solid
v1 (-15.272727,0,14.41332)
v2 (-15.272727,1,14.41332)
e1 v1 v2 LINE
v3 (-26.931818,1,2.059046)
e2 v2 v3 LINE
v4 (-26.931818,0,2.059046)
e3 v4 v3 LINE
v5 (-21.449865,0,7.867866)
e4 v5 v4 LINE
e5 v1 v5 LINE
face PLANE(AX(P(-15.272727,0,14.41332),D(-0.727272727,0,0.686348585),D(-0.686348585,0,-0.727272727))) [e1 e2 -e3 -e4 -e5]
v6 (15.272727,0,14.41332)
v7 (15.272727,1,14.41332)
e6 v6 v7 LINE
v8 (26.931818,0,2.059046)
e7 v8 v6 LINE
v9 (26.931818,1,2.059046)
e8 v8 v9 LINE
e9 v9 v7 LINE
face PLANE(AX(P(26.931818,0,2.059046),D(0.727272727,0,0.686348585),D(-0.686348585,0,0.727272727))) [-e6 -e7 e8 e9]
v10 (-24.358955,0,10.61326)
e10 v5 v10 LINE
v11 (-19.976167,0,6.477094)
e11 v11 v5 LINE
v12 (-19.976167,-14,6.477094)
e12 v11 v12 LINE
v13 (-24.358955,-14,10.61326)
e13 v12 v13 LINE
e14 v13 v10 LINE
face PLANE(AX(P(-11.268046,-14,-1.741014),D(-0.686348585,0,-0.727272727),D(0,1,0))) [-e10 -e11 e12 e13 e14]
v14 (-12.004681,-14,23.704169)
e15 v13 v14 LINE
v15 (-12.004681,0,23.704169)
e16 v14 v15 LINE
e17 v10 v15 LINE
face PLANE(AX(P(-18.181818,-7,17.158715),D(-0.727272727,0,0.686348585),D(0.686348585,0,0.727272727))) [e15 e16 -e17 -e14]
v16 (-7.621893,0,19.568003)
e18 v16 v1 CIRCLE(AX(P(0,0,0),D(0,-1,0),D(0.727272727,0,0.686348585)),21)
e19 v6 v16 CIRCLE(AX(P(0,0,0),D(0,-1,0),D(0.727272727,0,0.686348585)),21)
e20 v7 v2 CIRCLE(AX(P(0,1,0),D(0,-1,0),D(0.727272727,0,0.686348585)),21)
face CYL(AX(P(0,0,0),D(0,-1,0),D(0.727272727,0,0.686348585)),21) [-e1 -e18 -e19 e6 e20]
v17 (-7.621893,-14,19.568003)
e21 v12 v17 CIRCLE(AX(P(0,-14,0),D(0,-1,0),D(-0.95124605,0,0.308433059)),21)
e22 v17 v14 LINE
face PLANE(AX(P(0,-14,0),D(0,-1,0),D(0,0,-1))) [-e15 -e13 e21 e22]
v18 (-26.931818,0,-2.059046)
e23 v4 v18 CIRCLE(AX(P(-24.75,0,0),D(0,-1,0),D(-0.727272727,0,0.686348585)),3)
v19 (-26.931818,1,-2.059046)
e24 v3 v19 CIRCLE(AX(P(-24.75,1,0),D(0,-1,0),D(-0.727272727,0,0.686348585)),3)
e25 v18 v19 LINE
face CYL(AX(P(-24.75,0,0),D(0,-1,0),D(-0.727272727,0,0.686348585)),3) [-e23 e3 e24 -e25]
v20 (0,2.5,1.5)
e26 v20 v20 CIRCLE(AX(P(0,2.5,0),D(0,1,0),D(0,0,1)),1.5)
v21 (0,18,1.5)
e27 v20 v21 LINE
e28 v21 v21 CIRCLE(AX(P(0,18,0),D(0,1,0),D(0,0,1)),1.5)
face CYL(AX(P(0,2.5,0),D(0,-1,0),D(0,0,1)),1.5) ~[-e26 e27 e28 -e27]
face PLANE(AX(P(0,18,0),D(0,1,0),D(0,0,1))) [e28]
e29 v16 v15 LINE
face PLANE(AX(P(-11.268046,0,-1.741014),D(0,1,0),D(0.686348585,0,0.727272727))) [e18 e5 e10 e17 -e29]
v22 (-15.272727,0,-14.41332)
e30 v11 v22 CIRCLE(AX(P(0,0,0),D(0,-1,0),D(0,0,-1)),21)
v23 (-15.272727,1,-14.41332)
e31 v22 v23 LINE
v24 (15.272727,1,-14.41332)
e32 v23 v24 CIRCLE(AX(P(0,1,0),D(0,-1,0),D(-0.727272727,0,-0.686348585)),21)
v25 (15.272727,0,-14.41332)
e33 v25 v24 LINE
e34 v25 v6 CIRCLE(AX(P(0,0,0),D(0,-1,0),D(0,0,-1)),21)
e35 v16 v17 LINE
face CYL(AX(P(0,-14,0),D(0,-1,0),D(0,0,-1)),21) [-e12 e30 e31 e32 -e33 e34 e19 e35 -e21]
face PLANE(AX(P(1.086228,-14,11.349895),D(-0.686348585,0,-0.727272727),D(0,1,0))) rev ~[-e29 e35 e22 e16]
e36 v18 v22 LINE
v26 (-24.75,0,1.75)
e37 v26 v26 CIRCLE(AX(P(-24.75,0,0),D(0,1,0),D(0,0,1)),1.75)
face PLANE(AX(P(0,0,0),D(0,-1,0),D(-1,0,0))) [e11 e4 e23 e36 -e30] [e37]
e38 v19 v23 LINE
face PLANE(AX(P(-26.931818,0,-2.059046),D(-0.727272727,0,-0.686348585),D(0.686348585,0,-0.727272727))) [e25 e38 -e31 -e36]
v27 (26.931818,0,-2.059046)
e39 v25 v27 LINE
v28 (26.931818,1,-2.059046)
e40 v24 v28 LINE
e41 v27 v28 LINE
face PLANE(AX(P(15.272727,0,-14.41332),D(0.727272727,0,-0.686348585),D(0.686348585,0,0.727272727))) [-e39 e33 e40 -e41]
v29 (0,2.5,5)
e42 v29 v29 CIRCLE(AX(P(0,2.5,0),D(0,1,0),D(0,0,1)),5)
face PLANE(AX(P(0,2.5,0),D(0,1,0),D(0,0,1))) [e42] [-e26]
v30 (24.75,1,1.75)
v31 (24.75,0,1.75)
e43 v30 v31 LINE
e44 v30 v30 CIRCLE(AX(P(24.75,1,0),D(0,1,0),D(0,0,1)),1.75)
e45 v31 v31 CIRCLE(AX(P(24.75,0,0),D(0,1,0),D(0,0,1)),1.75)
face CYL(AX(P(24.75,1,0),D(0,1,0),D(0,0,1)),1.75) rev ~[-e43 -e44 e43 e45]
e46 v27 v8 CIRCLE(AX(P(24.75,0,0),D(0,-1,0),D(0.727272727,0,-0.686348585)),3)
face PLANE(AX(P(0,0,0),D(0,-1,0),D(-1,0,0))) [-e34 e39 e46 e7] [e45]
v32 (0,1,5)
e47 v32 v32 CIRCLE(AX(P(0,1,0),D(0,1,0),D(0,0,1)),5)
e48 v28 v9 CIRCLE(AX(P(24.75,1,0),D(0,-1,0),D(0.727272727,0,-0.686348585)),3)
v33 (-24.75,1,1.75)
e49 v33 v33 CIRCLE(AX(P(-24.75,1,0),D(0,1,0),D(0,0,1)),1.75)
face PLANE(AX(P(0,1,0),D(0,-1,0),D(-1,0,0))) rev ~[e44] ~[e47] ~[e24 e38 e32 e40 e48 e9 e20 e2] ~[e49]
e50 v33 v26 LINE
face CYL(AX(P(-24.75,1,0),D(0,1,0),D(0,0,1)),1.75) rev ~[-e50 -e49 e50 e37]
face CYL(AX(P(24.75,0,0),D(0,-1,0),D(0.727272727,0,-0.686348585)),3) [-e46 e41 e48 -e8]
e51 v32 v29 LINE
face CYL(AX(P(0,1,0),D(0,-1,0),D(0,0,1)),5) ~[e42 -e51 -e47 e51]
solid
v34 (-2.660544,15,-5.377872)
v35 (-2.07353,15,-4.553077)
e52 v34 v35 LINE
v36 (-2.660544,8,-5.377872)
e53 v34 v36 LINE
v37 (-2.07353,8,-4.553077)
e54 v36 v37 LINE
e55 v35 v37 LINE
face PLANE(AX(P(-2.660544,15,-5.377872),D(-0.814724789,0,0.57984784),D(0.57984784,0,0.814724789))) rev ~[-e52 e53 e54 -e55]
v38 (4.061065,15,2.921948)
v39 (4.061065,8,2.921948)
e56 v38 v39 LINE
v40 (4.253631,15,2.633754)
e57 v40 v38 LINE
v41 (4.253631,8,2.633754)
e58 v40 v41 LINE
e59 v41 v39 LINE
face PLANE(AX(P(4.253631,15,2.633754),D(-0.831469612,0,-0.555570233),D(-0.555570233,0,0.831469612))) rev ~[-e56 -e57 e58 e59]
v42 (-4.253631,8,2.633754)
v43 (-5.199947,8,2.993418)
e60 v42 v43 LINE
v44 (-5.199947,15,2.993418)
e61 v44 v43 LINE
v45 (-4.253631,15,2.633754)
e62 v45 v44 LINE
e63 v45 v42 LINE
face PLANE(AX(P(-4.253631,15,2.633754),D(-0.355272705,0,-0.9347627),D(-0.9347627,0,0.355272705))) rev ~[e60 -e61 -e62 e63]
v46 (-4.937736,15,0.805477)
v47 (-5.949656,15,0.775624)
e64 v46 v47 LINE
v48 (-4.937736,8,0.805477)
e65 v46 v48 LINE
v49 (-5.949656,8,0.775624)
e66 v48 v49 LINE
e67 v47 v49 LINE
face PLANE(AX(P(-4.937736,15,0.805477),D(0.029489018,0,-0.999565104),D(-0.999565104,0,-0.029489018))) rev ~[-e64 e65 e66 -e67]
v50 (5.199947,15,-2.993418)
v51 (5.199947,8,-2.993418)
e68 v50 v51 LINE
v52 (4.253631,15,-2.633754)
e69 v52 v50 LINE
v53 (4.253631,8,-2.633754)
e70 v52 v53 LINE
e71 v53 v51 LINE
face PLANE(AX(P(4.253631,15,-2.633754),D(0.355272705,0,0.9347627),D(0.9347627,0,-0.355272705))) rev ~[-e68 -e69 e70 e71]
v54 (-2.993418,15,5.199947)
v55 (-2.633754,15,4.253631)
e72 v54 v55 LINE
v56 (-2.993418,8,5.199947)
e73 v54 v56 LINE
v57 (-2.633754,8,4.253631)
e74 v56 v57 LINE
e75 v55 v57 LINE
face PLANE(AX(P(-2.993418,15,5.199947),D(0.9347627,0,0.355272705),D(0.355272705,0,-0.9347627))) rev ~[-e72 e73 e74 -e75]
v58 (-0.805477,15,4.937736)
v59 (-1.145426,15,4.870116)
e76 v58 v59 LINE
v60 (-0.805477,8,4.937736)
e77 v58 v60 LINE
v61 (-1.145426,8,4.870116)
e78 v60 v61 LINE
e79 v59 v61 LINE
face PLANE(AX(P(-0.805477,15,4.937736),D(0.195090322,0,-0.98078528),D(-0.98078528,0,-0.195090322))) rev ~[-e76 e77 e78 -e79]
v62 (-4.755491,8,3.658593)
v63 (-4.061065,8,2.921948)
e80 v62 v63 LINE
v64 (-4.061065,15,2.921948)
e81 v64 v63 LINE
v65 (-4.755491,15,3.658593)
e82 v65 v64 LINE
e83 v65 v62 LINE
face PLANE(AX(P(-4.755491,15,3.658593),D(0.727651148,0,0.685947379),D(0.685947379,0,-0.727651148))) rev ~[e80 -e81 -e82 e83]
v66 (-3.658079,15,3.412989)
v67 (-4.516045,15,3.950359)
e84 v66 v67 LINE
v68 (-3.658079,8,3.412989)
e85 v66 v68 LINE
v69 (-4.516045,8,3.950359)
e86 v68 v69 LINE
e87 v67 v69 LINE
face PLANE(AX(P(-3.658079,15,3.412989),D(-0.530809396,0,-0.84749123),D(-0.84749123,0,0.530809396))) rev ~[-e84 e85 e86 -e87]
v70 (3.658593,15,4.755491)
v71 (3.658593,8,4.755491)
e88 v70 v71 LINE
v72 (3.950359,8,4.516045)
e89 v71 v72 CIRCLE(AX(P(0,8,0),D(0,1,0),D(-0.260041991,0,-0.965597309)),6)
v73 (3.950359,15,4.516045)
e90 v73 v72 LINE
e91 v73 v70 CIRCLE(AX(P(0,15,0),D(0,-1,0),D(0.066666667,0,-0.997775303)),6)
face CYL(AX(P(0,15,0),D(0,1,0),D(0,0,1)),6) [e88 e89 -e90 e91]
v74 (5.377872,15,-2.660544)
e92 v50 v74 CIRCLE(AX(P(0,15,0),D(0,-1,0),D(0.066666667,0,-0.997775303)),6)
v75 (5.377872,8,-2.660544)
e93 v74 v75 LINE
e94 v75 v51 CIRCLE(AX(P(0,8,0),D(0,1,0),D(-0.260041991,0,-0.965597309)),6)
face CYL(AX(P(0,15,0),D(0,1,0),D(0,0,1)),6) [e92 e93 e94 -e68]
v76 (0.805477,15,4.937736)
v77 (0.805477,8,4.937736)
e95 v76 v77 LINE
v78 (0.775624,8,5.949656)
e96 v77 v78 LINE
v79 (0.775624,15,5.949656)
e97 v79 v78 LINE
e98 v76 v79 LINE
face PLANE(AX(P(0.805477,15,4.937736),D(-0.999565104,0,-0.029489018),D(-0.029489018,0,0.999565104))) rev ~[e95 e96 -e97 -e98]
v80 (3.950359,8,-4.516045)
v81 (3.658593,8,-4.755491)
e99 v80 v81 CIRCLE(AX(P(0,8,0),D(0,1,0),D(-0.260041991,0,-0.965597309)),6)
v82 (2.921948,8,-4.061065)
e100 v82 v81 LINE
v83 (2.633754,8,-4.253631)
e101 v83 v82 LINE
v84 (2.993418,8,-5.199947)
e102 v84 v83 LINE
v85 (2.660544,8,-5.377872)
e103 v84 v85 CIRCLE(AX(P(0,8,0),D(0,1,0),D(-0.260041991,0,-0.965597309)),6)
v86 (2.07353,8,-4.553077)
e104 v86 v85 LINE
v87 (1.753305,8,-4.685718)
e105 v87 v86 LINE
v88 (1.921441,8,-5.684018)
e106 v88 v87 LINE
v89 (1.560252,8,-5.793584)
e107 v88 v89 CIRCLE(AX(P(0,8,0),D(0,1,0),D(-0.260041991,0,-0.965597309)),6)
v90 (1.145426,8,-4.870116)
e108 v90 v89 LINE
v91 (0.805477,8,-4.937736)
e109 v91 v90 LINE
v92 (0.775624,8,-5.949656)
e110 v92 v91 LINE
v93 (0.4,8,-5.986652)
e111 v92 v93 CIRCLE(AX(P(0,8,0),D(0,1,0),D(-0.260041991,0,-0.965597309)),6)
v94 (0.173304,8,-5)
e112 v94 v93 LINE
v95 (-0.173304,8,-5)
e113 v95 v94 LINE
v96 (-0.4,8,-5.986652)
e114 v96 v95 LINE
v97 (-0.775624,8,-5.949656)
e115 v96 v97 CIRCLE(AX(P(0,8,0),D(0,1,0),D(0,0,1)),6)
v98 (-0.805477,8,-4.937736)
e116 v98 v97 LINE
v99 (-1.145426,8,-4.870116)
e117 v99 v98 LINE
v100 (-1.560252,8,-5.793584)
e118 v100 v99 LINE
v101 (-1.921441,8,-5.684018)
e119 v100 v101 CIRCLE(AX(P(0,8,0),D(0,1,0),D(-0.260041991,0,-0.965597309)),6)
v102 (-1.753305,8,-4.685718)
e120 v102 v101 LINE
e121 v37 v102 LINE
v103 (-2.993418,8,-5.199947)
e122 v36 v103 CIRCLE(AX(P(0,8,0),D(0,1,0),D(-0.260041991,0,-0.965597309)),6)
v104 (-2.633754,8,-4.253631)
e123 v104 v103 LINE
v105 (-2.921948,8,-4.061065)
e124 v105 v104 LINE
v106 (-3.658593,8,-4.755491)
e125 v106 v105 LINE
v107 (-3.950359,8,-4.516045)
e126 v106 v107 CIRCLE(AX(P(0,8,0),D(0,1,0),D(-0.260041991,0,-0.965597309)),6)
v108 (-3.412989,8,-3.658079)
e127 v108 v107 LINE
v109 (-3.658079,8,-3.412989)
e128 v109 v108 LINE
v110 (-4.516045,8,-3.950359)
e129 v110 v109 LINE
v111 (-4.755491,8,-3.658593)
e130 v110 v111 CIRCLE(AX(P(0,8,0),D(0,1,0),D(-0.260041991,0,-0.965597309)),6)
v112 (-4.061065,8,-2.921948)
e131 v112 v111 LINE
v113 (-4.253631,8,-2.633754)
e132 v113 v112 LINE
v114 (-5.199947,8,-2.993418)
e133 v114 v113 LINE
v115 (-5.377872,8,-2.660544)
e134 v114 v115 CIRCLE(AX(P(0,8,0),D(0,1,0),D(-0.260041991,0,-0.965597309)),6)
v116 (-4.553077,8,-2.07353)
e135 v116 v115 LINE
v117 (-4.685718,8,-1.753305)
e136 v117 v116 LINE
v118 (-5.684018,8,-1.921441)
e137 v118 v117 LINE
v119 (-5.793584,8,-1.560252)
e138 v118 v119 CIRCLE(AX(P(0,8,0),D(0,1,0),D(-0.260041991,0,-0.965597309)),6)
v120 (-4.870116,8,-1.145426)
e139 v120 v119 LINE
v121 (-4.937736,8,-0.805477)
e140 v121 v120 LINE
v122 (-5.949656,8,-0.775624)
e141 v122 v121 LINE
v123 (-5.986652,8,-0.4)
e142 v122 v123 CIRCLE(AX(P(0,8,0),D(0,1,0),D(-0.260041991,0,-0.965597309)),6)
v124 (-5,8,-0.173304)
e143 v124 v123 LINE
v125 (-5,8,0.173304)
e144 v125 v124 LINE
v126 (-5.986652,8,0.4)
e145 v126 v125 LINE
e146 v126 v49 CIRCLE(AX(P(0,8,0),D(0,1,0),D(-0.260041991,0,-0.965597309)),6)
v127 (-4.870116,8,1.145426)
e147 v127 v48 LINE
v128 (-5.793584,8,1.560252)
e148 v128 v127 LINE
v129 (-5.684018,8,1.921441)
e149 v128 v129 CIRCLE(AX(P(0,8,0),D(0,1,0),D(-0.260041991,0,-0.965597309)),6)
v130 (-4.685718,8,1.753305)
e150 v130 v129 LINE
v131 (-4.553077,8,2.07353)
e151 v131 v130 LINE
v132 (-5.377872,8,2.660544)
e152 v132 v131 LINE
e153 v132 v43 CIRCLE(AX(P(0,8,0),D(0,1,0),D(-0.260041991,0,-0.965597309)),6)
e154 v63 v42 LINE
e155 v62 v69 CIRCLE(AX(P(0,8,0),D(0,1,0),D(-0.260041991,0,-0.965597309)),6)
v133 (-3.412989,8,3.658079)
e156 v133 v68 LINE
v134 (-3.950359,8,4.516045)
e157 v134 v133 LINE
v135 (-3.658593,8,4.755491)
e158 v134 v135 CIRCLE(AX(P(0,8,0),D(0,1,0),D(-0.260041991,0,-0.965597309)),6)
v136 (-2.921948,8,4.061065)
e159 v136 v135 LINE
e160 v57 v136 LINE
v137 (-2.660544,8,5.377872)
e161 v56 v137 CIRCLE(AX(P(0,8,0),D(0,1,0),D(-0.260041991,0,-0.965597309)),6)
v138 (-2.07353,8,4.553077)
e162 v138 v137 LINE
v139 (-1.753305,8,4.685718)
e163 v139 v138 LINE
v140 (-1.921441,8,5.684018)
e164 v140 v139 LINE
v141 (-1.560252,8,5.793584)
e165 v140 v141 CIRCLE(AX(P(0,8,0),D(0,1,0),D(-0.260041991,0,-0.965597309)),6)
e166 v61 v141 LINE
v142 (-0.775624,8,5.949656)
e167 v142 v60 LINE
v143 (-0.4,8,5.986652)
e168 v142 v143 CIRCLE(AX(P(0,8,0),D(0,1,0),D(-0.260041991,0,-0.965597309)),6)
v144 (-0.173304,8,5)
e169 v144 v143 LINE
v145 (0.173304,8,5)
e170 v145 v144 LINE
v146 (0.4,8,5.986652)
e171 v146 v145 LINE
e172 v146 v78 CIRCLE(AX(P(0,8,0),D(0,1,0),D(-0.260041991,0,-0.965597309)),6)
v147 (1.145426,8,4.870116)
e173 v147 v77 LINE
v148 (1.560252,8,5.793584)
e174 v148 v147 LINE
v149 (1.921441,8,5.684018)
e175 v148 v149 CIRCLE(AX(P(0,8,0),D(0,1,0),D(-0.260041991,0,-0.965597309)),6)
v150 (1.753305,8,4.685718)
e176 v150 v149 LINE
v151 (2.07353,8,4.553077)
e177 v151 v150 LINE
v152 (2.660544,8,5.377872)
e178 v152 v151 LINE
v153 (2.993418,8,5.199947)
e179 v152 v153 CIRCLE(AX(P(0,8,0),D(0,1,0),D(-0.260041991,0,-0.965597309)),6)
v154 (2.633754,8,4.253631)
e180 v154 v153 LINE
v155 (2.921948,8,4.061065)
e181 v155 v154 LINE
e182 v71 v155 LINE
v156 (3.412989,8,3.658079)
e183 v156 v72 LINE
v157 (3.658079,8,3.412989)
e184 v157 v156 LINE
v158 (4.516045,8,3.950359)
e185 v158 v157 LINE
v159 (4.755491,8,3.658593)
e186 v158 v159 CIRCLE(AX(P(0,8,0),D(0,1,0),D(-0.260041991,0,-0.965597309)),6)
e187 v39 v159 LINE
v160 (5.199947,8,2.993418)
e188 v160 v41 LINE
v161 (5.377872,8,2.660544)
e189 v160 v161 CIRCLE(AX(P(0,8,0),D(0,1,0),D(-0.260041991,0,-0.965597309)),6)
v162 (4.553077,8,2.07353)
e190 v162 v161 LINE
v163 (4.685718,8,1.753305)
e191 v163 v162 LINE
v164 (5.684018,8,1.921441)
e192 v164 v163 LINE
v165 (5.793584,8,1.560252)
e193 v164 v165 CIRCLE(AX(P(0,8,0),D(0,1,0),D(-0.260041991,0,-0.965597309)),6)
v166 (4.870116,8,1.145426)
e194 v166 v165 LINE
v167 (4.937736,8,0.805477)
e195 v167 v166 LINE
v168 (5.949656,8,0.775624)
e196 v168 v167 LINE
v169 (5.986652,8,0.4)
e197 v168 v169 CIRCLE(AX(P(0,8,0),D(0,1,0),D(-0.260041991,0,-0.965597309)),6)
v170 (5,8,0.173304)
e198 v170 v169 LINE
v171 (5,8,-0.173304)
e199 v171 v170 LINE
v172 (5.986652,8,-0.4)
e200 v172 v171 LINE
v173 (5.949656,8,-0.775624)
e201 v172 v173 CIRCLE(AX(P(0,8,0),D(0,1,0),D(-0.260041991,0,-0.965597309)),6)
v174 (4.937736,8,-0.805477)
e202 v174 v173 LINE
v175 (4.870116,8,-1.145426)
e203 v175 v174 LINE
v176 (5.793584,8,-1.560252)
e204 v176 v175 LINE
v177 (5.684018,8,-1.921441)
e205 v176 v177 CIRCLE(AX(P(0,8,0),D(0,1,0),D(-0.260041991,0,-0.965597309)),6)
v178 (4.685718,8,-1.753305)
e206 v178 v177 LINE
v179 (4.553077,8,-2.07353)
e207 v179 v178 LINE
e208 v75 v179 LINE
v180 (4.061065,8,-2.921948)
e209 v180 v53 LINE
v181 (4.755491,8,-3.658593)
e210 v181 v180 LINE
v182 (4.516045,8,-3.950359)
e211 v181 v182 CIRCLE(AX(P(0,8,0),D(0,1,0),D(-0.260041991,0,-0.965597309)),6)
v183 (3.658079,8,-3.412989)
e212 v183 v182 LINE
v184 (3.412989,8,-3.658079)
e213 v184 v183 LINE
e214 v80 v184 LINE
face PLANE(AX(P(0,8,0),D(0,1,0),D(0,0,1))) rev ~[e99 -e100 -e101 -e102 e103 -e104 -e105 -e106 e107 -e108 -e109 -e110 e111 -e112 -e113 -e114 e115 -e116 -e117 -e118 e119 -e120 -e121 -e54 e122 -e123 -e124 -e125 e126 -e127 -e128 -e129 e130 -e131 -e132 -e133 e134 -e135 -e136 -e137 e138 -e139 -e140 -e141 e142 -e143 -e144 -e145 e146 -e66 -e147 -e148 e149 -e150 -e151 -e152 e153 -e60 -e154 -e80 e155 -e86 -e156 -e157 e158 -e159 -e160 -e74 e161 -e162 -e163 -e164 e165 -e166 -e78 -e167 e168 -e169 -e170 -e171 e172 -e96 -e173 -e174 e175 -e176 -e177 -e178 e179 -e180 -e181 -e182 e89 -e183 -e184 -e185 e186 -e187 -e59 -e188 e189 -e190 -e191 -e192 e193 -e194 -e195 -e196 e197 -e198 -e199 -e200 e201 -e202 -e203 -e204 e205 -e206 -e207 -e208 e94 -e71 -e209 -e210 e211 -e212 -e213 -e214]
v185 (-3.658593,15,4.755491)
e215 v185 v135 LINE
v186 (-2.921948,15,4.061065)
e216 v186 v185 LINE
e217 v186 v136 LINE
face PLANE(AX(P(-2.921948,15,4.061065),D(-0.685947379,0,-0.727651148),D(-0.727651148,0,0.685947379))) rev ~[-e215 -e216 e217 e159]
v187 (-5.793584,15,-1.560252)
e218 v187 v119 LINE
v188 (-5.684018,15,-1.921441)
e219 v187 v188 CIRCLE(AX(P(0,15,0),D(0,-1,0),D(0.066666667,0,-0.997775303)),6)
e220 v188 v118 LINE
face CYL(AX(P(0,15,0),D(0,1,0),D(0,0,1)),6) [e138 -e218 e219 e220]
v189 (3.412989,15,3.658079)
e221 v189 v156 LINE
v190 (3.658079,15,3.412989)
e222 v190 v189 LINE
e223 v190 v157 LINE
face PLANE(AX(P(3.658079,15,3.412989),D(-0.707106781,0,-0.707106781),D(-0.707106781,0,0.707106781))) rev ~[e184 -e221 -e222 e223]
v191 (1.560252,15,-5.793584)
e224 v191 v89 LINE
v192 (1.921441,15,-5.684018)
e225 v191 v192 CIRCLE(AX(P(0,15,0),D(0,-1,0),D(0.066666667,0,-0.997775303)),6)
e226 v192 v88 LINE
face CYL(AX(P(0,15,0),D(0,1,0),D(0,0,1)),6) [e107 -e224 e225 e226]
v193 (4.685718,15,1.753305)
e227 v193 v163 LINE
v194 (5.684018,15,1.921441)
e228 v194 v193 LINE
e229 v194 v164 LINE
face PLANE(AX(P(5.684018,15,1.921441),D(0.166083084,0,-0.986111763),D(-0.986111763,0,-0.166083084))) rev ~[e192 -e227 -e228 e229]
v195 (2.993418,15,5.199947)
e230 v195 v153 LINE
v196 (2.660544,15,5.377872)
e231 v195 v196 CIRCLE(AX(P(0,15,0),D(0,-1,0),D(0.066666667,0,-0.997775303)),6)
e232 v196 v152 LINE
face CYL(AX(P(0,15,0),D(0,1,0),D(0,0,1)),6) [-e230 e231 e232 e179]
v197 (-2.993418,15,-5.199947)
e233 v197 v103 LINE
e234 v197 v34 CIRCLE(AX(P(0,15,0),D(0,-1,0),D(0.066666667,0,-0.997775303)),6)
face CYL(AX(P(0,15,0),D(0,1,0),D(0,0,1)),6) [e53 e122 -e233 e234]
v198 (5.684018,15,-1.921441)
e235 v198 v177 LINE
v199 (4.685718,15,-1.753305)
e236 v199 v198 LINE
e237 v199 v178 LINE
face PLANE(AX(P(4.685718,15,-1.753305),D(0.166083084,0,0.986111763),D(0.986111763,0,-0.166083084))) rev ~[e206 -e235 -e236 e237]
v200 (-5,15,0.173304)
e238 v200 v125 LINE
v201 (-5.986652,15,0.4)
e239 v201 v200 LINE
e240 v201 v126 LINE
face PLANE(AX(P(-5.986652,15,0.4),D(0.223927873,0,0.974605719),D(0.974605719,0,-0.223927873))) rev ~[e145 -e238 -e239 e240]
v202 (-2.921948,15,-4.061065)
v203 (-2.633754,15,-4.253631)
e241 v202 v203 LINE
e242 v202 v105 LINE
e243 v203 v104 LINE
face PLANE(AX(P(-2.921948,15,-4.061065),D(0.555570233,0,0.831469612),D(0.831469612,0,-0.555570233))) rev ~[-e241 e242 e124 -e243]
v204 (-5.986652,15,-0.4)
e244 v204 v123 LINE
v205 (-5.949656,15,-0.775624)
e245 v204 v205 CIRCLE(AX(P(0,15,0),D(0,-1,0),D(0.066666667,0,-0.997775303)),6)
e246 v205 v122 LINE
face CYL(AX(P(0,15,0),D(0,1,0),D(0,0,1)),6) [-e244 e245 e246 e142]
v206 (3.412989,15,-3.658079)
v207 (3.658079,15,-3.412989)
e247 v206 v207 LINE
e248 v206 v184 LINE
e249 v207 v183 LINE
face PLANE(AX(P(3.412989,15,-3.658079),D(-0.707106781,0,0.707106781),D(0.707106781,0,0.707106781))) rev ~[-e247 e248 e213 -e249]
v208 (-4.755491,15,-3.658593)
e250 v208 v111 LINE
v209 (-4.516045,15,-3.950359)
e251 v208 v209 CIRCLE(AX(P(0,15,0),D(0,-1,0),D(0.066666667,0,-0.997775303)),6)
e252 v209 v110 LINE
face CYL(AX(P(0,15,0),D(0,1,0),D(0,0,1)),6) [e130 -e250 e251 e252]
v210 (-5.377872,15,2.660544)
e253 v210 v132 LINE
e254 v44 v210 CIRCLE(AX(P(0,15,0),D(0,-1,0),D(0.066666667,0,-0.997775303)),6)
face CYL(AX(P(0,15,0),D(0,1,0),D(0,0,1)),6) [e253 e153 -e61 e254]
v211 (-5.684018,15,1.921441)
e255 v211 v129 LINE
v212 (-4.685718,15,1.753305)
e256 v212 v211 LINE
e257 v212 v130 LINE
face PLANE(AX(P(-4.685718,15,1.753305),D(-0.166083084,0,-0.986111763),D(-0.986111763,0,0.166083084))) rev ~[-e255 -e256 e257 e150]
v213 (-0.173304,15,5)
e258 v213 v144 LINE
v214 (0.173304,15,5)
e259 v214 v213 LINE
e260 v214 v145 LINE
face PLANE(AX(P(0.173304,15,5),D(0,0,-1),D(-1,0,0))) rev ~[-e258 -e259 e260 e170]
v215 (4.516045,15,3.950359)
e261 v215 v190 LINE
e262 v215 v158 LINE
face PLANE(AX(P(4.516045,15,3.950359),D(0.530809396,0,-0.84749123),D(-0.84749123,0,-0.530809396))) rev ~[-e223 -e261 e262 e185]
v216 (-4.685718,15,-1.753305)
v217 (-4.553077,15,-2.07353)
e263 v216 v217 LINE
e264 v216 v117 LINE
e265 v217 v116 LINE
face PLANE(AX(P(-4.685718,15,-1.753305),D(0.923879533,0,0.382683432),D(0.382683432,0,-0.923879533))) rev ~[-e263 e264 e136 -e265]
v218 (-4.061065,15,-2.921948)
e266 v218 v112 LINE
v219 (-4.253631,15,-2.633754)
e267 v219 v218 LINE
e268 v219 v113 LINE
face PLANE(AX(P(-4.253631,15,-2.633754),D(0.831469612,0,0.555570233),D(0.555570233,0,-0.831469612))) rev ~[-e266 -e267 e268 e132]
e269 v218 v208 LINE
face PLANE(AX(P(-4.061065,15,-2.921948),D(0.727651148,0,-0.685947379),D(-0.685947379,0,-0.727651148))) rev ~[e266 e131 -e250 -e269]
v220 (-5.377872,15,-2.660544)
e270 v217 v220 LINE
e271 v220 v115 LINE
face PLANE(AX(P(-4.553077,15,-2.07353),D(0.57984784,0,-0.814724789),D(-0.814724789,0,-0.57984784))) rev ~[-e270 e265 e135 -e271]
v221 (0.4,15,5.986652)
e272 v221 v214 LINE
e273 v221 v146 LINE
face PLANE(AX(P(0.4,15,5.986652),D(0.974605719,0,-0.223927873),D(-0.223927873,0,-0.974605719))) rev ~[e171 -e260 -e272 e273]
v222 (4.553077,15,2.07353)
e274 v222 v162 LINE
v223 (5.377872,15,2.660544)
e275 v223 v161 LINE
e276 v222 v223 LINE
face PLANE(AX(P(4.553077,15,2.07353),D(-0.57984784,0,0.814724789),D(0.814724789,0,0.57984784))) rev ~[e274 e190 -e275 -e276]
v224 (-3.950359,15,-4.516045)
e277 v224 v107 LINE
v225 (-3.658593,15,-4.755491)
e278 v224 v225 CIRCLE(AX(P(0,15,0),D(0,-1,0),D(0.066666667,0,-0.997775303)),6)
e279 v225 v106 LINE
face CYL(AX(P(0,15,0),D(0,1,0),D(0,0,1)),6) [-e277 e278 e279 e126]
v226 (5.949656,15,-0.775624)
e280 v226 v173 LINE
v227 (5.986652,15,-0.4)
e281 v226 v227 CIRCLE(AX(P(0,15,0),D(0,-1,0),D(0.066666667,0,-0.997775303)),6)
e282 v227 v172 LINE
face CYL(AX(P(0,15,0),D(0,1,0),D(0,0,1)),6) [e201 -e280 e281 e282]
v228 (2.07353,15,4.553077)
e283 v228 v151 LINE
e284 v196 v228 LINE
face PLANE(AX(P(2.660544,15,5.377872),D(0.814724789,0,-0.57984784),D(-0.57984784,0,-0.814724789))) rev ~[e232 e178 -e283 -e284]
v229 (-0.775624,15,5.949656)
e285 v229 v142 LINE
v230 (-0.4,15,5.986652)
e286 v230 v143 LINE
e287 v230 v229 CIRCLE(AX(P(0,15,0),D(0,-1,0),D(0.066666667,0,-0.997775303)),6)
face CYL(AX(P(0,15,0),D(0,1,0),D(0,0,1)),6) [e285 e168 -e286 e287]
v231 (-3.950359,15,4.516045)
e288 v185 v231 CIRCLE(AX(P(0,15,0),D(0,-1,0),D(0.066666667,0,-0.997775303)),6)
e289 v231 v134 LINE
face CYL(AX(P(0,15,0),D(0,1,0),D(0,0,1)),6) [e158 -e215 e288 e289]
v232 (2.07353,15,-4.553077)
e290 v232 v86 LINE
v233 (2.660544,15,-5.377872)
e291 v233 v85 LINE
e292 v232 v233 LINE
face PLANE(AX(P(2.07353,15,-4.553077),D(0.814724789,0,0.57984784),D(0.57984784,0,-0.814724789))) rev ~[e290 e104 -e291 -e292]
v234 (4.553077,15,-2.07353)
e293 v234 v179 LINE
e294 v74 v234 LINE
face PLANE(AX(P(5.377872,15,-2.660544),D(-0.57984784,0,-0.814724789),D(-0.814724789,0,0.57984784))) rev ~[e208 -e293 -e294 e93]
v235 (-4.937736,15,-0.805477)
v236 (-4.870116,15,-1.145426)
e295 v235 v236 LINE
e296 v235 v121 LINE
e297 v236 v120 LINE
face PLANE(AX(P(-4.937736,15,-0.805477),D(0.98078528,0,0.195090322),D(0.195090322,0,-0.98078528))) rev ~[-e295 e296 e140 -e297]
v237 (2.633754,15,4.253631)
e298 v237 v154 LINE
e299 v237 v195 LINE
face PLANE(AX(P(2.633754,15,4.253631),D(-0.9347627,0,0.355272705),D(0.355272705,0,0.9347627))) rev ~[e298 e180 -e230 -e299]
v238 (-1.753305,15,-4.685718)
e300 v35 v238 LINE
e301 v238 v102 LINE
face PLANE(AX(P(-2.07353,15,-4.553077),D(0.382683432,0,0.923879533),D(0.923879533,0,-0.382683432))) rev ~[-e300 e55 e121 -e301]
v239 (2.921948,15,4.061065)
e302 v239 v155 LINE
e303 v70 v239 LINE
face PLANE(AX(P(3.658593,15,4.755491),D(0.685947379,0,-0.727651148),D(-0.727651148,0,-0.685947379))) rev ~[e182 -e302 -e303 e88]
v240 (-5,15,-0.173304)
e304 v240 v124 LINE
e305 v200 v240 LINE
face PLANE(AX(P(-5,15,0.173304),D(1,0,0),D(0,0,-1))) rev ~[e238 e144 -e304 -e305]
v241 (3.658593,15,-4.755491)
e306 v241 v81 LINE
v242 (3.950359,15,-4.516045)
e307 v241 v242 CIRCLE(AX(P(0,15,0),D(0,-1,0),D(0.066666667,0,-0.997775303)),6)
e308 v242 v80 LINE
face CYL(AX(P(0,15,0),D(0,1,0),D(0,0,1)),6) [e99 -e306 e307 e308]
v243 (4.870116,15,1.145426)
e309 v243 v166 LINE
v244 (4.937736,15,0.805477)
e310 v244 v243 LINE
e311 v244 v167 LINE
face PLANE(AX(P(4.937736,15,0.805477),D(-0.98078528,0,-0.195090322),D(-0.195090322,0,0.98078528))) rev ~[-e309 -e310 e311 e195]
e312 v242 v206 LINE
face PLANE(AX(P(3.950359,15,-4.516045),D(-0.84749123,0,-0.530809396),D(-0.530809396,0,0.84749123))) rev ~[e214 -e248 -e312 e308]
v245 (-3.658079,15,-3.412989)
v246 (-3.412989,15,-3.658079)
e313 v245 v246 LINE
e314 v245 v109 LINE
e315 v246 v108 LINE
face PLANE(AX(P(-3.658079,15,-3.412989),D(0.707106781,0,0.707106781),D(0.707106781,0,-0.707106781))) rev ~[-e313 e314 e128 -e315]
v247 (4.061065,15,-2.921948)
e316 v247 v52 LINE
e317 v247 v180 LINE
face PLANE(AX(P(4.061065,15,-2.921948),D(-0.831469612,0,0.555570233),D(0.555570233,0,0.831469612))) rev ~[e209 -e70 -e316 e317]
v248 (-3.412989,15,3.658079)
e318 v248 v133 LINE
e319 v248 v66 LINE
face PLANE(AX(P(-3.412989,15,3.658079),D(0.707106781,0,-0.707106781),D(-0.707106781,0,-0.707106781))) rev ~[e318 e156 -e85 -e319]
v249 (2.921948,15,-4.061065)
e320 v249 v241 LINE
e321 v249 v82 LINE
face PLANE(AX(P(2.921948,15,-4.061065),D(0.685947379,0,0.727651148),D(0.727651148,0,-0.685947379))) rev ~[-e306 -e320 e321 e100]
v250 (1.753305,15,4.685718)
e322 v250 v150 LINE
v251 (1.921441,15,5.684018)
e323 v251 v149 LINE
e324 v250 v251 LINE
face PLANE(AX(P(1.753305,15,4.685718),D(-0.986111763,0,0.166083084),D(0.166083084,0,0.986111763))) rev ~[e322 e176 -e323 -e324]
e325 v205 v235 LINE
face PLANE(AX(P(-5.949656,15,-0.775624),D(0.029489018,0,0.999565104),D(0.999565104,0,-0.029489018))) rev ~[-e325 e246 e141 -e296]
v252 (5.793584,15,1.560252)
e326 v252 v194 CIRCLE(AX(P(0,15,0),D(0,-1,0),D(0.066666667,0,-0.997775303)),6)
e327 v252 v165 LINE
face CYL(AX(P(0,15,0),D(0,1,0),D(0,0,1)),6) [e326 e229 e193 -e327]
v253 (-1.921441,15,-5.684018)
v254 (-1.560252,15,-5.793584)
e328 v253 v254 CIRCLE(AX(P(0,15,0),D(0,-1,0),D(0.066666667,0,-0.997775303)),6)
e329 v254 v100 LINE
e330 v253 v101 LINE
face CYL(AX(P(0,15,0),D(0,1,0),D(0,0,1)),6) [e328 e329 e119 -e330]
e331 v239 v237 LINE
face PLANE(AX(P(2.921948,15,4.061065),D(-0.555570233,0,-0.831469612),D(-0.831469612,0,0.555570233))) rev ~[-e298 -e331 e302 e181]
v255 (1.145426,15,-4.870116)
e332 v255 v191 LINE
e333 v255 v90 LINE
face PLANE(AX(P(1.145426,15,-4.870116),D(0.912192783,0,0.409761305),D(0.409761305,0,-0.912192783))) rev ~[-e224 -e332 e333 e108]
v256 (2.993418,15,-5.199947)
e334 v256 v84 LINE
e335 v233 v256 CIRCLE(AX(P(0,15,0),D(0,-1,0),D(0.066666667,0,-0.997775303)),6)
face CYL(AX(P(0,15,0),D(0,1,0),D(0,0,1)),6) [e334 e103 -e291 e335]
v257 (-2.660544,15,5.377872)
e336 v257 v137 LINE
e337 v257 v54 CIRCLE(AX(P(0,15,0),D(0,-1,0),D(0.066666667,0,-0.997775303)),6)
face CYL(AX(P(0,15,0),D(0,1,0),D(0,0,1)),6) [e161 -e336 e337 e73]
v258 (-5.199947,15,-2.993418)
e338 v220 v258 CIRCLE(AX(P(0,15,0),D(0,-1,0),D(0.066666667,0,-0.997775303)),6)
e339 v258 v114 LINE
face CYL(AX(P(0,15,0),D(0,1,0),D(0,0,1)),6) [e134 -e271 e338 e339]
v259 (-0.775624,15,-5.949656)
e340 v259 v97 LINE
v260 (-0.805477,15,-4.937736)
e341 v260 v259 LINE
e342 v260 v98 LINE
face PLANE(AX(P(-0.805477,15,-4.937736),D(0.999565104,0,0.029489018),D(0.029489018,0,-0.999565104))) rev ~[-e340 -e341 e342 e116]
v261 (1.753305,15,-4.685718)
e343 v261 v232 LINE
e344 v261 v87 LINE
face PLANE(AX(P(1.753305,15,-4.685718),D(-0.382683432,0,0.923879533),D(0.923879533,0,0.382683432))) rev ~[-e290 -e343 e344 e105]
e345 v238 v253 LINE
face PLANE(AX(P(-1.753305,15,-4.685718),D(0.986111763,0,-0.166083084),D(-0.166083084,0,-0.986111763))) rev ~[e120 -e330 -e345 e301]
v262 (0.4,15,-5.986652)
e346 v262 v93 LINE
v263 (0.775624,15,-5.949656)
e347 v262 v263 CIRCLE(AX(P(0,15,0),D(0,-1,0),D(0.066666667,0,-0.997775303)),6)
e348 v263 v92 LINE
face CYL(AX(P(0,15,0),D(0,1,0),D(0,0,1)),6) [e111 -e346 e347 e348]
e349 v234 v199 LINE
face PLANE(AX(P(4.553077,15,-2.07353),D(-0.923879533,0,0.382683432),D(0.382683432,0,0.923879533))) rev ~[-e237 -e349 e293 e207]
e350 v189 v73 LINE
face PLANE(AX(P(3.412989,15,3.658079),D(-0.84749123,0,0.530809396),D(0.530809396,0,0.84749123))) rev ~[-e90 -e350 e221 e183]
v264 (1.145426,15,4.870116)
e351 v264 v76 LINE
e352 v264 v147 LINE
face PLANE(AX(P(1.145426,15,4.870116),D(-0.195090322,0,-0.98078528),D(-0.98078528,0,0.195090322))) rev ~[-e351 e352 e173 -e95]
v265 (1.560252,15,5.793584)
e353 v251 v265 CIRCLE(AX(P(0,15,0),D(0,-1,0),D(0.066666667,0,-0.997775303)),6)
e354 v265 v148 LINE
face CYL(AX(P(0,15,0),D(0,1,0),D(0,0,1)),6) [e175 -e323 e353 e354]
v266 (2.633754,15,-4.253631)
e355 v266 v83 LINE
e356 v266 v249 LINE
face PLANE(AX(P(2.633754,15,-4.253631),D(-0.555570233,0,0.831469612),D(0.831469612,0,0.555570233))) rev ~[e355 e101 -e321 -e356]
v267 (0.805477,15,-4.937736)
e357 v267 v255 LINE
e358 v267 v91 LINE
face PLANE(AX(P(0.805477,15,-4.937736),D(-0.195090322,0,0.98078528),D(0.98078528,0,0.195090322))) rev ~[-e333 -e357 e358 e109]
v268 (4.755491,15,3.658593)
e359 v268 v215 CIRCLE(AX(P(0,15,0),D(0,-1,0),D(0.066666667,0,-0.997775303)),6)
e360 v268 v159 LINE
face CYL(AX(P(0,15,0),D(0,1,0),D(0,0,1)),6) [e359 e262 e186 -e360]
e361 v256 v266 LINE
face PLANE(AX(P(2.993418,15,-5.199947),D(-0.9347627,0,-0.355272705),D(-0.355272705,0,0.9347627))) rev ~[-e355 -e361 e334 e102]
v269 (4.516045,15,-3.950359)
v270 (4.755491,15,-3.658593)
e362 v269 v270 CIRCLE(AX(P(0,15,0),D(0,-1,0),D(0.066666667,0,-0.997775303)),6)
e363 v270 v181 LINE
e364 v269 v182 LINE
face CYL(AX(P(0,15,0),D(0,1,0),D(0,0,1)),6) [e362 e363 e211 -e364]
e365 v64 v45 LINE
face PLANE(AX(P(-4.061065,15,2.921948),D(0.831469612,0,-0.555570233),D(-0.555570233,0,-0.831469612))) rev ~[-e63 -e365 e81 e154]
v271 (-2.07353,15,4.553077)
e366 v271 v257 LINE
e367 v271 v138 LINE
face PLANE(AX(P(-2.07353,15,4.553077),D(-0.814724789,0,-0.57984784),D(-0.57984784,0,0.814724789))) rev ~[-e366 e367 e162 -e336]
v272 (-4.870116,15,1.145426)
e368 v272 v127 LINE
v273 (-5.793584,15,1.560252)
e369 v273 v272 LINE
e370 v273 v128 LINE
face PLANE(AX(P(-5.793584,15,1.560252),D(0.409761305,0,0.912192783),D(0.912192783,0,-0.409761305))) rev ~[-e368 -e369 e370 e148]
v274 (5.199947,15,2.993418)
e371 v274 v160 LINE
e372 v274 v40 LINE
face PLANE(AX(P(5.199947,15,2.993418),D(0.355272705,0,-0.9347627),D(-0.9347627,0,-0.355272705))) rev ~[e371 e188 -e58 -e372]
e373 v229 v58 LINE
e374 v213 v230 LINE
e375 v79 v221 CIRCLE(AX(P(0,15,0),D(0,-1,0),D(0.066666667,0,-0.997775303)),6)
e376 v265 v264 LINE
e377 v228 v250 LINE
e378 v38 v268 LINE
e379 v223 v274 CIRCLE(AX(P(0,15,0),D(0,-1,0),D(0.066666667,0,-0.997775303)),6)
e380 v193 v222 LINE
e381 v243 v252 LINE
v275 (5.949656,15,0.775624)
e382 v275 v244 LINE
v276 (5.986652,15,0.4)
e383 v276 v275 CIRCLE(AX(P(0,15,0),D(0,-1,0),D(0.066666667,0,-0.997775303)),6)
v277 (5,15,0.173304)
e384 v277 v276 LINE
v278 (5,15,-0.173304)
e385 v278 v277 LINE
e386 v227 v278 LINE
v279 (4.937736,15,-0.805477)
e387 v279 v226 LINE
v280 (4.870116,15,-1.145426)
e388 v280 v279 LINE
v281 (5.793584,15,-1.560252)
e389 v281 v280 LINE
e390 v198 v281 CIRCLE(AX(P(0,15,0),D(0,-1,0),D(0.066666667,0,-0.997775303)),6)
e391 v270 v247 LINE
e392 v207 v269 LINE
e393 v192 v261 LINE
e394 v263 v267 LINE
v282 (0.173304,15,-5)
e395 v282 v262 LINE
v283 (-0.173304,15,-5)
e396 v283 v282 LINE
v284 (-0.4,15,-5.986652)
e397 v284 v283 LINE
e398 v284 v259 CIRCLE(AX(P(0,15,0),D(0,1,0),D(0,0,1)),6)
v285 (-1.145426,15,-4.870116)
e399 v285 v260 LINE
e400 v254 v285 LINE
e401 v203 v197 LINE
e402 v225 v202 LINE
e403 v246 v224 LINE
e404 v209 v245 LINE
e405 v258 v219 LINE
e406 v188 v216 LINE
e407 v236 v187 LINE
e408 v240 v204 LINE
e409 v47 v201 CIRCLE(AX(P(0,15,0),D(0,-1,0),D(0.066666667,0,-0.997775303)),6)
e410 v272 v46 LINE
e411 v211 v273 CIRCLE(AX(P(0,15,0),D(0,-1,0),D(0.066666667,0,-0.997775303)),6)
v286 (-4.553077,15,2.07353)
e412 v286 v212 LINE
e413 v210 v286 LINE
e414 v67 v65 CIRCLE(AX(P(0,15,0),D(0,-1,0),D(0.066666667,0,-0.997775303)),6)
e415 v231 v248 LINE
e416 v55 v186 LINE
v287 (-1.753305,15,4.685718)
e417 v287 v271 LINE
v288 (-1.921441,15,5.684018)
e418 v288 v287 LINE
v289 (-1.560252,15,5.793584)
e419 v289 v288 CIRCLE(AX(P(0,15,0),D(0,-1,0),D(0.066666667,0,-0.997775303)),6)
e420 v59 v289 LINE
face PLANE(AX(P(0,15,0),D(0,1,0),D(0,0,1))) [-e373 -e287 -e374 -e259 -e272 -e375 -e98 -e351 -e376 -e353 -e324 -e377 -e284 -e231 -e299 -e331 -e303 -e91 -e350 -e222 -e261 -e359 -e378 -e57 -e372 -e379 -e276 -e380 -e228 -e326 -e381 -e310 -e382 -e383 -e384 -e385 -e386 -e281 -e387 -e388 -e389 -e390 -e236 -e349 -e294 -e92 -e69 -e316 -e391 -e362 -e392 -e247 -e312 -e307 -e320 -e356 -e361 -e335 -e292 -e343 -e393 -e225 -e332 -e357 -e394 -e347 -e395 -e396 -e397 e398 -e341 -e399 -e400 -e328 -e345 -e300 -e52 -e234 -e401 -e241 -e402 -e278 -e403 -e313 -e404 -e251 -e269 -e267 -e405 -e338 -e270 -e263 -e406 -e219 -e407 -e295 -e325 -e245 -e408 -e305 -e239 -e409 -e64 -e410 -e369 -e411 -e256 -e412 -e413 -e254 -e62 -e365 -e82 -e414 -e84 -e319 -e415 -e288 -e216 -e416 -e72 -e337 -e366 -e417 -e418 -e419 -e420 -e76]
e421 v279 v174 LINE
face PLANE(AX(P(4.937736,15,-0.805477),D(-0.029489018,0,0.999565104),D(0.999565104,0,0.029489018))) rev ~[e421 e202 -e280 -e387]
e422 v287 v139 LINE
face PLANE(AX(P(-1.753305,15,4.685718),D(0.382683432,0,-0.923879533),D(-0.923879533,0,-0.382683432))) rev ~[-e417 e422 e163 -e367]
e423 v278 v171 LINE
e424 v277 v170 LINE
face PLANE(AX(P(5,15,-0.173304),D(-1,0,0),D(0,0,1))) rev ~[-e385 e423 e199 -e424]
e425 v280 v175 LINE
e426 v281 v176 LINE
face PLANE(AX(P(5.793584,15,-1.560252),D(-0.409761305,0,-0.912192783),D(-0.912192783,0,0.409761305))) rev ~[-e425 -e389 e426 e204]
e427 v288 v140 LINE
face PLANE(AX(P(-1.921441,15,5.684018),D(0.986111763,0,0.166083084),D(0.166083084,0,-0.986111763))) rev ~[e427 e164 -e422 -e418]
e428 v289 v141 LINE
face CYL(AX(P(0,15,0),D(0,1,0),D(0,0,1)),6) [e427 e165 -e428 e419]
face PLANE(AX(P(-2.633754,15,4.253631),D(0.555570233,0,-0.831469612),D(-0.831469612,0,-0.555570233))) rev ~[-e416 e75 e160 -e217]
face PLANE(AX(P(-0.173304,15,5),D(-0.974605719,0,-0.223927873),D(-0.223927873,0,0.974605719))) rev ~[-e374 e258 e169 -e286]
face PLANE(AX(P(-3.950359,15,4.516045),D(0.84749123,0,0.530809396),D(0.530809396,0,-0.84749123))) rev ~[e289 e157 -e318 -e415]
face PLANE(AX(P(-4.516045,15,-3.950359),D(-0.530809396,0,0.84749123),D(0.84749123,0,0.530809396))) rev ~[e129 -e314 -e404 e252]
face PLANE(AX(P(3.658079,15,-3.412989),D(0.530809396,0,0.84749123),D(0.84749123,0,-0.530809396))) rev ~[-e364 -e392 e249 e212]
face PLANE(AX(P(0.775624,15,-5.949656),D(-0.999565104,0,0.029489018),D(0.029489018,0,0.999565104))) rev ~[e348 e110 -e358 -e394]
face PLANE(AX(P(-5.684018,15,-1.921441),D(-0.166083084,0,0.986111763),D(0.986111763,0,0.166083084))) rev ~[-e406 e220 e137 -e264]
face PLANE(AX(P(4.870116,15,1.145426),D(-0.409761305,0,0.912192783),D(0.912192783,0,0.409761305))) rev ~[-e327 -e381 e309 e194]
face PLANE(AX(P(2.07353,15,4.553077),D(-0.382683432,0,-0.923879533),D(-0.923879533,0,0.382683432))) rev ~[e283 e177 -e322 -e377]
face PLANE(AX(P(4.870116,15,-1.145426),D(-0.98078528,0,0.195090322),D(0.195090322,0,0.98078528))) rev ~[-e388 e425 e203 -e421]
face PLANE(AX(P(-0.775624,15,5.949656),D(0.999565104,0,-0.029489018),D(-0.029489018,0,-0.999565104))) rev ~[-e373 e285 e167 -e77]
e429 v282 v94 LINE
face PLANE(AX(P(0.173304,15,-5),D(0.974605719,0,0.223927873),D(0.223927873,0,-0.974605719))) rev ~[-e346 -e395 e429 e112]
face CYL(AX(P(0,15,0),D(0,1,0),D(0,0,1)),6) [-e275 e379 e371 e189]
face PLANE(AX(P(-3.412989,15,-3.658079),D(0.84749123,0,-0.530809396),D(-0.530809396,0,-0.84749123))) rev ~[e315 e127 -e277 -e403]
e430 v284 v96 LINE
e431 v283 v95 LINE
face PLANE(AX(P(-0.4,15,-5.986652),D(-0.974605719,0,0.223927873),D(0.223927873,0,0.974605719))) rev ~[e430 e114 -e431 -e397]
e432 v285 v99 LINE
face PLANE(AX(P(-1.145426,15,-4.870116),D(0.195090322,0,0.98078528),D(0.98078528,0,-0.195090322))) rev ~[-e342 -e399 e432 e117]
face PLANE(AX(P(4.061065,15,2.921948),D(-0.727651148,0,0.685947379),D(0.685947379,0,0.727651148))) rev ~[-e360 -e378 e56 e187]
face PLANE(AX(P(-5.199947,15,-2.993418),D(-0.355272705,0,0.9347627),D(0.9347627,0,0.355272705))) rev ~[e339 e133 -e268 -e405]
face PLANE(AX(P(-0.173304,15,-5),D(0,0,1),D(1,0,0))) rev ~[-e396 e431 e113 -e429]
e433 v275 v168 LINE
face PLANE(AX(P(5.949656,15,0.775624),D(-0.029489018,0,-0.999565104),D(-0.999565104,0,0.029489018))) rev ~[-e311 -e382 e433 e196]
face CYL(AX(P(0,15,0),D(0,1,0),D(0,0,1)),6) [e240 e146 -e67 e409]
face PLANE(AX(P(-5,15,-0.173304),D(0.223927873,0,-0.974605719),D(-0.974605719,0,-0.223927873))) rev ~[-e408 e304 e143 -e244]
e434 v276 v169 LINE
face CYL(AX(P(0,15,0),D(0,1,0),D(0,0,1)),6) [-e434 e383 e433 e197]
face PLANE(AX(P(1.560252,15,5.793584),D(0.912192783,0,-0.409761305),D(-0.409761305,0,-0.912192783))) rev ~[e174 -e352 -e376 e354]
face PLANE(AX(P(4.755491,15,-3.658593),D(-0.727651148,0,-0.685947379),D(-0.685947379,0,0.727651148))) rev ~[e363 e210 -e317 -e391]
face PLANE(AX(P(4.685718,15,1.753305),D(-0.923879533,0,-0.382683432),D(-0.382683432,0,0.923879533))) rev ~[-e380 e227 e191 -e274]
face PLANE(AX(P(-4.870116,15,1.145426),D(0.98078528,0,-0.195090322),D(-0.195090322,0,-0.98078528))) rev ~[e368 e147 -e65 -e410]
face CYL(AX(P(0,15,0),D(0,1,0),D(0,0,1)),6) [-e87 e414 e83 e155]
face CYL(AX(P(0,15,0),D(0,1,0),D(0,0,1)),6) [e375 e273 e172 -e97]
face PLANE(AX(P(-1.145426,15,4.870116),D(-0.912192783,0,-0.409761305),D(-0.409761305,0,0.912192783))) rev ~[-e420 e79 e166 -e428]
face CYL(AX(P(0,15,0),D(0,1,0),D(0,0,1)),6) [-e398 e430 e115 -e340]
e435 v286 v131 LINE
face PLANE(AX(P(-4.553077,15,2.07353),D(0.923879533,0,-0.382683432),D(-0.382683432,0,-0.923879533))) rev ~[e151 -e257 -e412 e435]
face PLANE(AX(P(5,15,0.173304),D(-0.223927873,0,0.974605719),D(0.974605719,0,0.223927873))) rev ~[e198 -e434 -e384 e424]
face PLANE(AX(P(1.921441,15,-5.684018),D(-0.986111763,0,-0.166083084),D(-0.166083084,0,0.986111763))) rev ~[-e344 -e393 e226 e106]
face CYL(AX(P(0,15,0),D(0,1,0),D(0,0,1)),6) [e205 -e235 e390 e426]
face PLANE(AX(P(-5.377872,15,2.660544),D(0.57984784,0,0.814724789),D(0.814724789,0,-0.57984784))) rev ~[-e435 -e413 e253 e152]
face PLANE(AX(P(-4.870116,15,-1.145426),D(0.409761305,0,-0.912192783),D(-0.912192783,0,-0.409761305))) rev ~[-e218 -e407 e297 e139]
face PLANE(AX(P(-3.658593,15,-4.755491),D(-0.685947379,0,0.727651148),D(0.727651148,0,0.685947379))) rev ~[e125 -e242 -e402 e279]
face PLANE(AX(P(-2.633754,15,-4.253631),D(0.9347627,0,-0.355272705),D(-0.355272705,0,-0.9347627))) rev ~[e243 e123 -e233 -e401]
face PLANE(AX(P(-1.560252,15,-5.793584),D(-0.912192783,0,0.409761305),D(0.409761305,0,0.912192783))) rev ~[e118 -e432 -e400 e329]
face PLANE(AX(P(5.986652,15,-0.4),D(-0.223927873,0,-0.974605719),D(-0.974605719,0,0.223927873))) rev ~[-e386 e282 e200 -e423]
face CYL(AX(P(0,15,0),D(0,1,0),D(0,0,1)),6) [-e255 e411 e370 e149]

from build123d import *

# Parameters (mm, degrees)
EXTRUDE_1_DEPTH          = 1
EXTRUDE_START            = 14
SKETCH_2_R               = 21
EXTRUDE_2_DEPTH          = 14
EXTRUDE_3_DEPTH          = 4
EXTRUDE_3_DEPTH_BACK     = 14
SKETCH_3_W               = 18
SKETCH_3_H               = 14
SKETCH_4_R               = 1.75
CUT_EXTRUDE_1_DEPTH      = 4
SKETCH_5_R               = 5
EXTRUDE_4_DEPTH          = 1.5
SKETCH_6_R               = 1.5
EXTRUDE_5_DEPTH          = 15.5
SKETCH_8_R               = 6
EXTRUDE_6_DEPTH          = 7
CUT_EXTRUDE_2_DEPTH      = 7
PATTERN_CIRCULAR_1_COUNT = 32


with BuildPart() as part:
    # 스케치1 → 보스-돌출1 (new body)
    with BuildSketch(Plane(origin=(0, 0, 0), x_dir=(1, 0, 0), z_dir=(0, 1, 0))):
        with BuildLine():
            Line((15.272727273, 14.413320286), (26.931818182, 2.059045755))
            ThreePointArc((26.931818182, 2.059045755), (27.75, 0), (26.931818182, -2.059045755))
            Line((26.931818182, -2.059045755), (15.272727273, -14.413320286))
            ThreePointArc((15.272727273, -14.413320286), (0, -21), (-15.272727273, -14.413320286))
            Line((-15.272727273, -14.413320286), (-26.931818182, -2.059045755))
            ThreePointArc((-26.931818182, -2.059045755), (-27.75, 0), (-26.931818182, 2.059045755))
            Line((-26.931818182, 2.059045755), (-15.272727273, 14.413320286))
            ThreePointArc((-15.272727273, 14.413320286), (0, 21), (15.272727273, 14.413320286))
        make_face()
    extrude(amount=EXTRUDE_1_DEPTH)

    # 스케치2 → 보스-돌출2 (add)
    with BuildSketch(Plane.XZ.offset(EXTRUDE_START)):
        with Locations(Location((0, 0, 0), (0, 0, 270))):
            Circle(SKETCH_2_R)
    extrude(amount=-EXTRUDE_2_DEPTH)

    # 스케치3 → 보스-돌출3 (add, two sides: drawn at the far end of the back side and taken through both)
    with BuildSketch(Plane(origin=(-15.272727273, 0, 14.413320286), x_dir=(0.6863485850246138, 0, 0.7272727272727271), z_dir=(-0.7272727272727271, 0, 0.6863485850246138)).offset(-EXTRUDE_3_DEPTH_BACK)):
        with Locations((0, -7)):
            Rectangle(SKETCH_3_W, SKETCH_3_H)
    extrude(amount=EXTRUDE_3_DEPTH + EXTRUDE_3_DEPTH_BACK)

    # 스케치4 → 컷-돌출1 (cut)
    with BuildSketch(Plane(origin=(0, 1, 0), x_dir=(1, 0, 0), z_dir=(0, 1, 0))):
        with Locations(Location((24.75, 0, 0), (0, 0, 270))):
            Circle(SKETCH_4_R)
        with Locations(Location((-24.75, 0, 0), (0, 0, 270))):
            Circle(SKETCH_4_R)
    extrude(amount=-CUT_EXTRUDE_1_DEPTH, mode=Mode.SUBTRACT)

    # 스케치5 → 보스-돌출4 (add)
    with BuildSketch(Plane(origin=(0, 1, 0), x_dir=(1, 0, 0), z_dir=(0, 1, 0))):
        with Locations(Location((0, 0, 0), (0, 0, 270))):
            Circle(SKETCH_5_R)
    extrude(amount=EXTRUDE_4_DEPTH)

    # 스케치6 → 보스-돌출5 (add)
    with BuildSketch(Plane(origin=(0, 2.5, 0), x_dir=(1, 0, 0), z_dir=(0, 1, 0))):
        with Locations(Location((0, 0, 0), (0, 0, 270))):
            Circle(SKETCH_6_R)
    extrude(amount=EXTRUDE_5_DEPTH)


with BuildPart() as body_2:
    # 스케치8 → 보스-돌출6 (new body)
    with BuildSketch(Plane(origin=(0, 15, 0), x_dir=(1, 0, 0), z_dir=(0, 1, 0))):
        with Locations(Location((0, 0, 0), (0, 0, 270))):
            Circle(SKETCH_8_R)
    extrude(amount=-EXTRUDE_6_DEPTH)

    # 스케치9 → 컷-돌출2 (cut)
    with BuildSketch(Plane(origin=(0, 15, 0), x_dir=(1, 0, 0), z_dir=(0, 1, 0))):
        Polygon((0, 5), (0.173304385, 5), (0.4, 5.986651819), (0, 6.45389359), (-0.4, 5.986651819), (-0.173304385, 5), align=None)
    cut_extrude_2 = extrude(amount=-CUT_EXTRUDE_2_DEPTH, mode=Mode.SUBTRACT)

    # 원형 패턴1: 컷-돌출2 ×32 about axis
    pattern_circular_1_axis = Axis((0, 0, 0), (0, 1, 0))
    for i in range(1, PATTERN_CIRCULAR_1_COUNT):
        add(cut_extrude_2.rotate(pattern_circular_1_axis, i * 360 / PATTERN_CIRCULAR_1_COUNT), mode=Mode.SUBTRACT)


solid = Compound([part.part, body_2.part])
